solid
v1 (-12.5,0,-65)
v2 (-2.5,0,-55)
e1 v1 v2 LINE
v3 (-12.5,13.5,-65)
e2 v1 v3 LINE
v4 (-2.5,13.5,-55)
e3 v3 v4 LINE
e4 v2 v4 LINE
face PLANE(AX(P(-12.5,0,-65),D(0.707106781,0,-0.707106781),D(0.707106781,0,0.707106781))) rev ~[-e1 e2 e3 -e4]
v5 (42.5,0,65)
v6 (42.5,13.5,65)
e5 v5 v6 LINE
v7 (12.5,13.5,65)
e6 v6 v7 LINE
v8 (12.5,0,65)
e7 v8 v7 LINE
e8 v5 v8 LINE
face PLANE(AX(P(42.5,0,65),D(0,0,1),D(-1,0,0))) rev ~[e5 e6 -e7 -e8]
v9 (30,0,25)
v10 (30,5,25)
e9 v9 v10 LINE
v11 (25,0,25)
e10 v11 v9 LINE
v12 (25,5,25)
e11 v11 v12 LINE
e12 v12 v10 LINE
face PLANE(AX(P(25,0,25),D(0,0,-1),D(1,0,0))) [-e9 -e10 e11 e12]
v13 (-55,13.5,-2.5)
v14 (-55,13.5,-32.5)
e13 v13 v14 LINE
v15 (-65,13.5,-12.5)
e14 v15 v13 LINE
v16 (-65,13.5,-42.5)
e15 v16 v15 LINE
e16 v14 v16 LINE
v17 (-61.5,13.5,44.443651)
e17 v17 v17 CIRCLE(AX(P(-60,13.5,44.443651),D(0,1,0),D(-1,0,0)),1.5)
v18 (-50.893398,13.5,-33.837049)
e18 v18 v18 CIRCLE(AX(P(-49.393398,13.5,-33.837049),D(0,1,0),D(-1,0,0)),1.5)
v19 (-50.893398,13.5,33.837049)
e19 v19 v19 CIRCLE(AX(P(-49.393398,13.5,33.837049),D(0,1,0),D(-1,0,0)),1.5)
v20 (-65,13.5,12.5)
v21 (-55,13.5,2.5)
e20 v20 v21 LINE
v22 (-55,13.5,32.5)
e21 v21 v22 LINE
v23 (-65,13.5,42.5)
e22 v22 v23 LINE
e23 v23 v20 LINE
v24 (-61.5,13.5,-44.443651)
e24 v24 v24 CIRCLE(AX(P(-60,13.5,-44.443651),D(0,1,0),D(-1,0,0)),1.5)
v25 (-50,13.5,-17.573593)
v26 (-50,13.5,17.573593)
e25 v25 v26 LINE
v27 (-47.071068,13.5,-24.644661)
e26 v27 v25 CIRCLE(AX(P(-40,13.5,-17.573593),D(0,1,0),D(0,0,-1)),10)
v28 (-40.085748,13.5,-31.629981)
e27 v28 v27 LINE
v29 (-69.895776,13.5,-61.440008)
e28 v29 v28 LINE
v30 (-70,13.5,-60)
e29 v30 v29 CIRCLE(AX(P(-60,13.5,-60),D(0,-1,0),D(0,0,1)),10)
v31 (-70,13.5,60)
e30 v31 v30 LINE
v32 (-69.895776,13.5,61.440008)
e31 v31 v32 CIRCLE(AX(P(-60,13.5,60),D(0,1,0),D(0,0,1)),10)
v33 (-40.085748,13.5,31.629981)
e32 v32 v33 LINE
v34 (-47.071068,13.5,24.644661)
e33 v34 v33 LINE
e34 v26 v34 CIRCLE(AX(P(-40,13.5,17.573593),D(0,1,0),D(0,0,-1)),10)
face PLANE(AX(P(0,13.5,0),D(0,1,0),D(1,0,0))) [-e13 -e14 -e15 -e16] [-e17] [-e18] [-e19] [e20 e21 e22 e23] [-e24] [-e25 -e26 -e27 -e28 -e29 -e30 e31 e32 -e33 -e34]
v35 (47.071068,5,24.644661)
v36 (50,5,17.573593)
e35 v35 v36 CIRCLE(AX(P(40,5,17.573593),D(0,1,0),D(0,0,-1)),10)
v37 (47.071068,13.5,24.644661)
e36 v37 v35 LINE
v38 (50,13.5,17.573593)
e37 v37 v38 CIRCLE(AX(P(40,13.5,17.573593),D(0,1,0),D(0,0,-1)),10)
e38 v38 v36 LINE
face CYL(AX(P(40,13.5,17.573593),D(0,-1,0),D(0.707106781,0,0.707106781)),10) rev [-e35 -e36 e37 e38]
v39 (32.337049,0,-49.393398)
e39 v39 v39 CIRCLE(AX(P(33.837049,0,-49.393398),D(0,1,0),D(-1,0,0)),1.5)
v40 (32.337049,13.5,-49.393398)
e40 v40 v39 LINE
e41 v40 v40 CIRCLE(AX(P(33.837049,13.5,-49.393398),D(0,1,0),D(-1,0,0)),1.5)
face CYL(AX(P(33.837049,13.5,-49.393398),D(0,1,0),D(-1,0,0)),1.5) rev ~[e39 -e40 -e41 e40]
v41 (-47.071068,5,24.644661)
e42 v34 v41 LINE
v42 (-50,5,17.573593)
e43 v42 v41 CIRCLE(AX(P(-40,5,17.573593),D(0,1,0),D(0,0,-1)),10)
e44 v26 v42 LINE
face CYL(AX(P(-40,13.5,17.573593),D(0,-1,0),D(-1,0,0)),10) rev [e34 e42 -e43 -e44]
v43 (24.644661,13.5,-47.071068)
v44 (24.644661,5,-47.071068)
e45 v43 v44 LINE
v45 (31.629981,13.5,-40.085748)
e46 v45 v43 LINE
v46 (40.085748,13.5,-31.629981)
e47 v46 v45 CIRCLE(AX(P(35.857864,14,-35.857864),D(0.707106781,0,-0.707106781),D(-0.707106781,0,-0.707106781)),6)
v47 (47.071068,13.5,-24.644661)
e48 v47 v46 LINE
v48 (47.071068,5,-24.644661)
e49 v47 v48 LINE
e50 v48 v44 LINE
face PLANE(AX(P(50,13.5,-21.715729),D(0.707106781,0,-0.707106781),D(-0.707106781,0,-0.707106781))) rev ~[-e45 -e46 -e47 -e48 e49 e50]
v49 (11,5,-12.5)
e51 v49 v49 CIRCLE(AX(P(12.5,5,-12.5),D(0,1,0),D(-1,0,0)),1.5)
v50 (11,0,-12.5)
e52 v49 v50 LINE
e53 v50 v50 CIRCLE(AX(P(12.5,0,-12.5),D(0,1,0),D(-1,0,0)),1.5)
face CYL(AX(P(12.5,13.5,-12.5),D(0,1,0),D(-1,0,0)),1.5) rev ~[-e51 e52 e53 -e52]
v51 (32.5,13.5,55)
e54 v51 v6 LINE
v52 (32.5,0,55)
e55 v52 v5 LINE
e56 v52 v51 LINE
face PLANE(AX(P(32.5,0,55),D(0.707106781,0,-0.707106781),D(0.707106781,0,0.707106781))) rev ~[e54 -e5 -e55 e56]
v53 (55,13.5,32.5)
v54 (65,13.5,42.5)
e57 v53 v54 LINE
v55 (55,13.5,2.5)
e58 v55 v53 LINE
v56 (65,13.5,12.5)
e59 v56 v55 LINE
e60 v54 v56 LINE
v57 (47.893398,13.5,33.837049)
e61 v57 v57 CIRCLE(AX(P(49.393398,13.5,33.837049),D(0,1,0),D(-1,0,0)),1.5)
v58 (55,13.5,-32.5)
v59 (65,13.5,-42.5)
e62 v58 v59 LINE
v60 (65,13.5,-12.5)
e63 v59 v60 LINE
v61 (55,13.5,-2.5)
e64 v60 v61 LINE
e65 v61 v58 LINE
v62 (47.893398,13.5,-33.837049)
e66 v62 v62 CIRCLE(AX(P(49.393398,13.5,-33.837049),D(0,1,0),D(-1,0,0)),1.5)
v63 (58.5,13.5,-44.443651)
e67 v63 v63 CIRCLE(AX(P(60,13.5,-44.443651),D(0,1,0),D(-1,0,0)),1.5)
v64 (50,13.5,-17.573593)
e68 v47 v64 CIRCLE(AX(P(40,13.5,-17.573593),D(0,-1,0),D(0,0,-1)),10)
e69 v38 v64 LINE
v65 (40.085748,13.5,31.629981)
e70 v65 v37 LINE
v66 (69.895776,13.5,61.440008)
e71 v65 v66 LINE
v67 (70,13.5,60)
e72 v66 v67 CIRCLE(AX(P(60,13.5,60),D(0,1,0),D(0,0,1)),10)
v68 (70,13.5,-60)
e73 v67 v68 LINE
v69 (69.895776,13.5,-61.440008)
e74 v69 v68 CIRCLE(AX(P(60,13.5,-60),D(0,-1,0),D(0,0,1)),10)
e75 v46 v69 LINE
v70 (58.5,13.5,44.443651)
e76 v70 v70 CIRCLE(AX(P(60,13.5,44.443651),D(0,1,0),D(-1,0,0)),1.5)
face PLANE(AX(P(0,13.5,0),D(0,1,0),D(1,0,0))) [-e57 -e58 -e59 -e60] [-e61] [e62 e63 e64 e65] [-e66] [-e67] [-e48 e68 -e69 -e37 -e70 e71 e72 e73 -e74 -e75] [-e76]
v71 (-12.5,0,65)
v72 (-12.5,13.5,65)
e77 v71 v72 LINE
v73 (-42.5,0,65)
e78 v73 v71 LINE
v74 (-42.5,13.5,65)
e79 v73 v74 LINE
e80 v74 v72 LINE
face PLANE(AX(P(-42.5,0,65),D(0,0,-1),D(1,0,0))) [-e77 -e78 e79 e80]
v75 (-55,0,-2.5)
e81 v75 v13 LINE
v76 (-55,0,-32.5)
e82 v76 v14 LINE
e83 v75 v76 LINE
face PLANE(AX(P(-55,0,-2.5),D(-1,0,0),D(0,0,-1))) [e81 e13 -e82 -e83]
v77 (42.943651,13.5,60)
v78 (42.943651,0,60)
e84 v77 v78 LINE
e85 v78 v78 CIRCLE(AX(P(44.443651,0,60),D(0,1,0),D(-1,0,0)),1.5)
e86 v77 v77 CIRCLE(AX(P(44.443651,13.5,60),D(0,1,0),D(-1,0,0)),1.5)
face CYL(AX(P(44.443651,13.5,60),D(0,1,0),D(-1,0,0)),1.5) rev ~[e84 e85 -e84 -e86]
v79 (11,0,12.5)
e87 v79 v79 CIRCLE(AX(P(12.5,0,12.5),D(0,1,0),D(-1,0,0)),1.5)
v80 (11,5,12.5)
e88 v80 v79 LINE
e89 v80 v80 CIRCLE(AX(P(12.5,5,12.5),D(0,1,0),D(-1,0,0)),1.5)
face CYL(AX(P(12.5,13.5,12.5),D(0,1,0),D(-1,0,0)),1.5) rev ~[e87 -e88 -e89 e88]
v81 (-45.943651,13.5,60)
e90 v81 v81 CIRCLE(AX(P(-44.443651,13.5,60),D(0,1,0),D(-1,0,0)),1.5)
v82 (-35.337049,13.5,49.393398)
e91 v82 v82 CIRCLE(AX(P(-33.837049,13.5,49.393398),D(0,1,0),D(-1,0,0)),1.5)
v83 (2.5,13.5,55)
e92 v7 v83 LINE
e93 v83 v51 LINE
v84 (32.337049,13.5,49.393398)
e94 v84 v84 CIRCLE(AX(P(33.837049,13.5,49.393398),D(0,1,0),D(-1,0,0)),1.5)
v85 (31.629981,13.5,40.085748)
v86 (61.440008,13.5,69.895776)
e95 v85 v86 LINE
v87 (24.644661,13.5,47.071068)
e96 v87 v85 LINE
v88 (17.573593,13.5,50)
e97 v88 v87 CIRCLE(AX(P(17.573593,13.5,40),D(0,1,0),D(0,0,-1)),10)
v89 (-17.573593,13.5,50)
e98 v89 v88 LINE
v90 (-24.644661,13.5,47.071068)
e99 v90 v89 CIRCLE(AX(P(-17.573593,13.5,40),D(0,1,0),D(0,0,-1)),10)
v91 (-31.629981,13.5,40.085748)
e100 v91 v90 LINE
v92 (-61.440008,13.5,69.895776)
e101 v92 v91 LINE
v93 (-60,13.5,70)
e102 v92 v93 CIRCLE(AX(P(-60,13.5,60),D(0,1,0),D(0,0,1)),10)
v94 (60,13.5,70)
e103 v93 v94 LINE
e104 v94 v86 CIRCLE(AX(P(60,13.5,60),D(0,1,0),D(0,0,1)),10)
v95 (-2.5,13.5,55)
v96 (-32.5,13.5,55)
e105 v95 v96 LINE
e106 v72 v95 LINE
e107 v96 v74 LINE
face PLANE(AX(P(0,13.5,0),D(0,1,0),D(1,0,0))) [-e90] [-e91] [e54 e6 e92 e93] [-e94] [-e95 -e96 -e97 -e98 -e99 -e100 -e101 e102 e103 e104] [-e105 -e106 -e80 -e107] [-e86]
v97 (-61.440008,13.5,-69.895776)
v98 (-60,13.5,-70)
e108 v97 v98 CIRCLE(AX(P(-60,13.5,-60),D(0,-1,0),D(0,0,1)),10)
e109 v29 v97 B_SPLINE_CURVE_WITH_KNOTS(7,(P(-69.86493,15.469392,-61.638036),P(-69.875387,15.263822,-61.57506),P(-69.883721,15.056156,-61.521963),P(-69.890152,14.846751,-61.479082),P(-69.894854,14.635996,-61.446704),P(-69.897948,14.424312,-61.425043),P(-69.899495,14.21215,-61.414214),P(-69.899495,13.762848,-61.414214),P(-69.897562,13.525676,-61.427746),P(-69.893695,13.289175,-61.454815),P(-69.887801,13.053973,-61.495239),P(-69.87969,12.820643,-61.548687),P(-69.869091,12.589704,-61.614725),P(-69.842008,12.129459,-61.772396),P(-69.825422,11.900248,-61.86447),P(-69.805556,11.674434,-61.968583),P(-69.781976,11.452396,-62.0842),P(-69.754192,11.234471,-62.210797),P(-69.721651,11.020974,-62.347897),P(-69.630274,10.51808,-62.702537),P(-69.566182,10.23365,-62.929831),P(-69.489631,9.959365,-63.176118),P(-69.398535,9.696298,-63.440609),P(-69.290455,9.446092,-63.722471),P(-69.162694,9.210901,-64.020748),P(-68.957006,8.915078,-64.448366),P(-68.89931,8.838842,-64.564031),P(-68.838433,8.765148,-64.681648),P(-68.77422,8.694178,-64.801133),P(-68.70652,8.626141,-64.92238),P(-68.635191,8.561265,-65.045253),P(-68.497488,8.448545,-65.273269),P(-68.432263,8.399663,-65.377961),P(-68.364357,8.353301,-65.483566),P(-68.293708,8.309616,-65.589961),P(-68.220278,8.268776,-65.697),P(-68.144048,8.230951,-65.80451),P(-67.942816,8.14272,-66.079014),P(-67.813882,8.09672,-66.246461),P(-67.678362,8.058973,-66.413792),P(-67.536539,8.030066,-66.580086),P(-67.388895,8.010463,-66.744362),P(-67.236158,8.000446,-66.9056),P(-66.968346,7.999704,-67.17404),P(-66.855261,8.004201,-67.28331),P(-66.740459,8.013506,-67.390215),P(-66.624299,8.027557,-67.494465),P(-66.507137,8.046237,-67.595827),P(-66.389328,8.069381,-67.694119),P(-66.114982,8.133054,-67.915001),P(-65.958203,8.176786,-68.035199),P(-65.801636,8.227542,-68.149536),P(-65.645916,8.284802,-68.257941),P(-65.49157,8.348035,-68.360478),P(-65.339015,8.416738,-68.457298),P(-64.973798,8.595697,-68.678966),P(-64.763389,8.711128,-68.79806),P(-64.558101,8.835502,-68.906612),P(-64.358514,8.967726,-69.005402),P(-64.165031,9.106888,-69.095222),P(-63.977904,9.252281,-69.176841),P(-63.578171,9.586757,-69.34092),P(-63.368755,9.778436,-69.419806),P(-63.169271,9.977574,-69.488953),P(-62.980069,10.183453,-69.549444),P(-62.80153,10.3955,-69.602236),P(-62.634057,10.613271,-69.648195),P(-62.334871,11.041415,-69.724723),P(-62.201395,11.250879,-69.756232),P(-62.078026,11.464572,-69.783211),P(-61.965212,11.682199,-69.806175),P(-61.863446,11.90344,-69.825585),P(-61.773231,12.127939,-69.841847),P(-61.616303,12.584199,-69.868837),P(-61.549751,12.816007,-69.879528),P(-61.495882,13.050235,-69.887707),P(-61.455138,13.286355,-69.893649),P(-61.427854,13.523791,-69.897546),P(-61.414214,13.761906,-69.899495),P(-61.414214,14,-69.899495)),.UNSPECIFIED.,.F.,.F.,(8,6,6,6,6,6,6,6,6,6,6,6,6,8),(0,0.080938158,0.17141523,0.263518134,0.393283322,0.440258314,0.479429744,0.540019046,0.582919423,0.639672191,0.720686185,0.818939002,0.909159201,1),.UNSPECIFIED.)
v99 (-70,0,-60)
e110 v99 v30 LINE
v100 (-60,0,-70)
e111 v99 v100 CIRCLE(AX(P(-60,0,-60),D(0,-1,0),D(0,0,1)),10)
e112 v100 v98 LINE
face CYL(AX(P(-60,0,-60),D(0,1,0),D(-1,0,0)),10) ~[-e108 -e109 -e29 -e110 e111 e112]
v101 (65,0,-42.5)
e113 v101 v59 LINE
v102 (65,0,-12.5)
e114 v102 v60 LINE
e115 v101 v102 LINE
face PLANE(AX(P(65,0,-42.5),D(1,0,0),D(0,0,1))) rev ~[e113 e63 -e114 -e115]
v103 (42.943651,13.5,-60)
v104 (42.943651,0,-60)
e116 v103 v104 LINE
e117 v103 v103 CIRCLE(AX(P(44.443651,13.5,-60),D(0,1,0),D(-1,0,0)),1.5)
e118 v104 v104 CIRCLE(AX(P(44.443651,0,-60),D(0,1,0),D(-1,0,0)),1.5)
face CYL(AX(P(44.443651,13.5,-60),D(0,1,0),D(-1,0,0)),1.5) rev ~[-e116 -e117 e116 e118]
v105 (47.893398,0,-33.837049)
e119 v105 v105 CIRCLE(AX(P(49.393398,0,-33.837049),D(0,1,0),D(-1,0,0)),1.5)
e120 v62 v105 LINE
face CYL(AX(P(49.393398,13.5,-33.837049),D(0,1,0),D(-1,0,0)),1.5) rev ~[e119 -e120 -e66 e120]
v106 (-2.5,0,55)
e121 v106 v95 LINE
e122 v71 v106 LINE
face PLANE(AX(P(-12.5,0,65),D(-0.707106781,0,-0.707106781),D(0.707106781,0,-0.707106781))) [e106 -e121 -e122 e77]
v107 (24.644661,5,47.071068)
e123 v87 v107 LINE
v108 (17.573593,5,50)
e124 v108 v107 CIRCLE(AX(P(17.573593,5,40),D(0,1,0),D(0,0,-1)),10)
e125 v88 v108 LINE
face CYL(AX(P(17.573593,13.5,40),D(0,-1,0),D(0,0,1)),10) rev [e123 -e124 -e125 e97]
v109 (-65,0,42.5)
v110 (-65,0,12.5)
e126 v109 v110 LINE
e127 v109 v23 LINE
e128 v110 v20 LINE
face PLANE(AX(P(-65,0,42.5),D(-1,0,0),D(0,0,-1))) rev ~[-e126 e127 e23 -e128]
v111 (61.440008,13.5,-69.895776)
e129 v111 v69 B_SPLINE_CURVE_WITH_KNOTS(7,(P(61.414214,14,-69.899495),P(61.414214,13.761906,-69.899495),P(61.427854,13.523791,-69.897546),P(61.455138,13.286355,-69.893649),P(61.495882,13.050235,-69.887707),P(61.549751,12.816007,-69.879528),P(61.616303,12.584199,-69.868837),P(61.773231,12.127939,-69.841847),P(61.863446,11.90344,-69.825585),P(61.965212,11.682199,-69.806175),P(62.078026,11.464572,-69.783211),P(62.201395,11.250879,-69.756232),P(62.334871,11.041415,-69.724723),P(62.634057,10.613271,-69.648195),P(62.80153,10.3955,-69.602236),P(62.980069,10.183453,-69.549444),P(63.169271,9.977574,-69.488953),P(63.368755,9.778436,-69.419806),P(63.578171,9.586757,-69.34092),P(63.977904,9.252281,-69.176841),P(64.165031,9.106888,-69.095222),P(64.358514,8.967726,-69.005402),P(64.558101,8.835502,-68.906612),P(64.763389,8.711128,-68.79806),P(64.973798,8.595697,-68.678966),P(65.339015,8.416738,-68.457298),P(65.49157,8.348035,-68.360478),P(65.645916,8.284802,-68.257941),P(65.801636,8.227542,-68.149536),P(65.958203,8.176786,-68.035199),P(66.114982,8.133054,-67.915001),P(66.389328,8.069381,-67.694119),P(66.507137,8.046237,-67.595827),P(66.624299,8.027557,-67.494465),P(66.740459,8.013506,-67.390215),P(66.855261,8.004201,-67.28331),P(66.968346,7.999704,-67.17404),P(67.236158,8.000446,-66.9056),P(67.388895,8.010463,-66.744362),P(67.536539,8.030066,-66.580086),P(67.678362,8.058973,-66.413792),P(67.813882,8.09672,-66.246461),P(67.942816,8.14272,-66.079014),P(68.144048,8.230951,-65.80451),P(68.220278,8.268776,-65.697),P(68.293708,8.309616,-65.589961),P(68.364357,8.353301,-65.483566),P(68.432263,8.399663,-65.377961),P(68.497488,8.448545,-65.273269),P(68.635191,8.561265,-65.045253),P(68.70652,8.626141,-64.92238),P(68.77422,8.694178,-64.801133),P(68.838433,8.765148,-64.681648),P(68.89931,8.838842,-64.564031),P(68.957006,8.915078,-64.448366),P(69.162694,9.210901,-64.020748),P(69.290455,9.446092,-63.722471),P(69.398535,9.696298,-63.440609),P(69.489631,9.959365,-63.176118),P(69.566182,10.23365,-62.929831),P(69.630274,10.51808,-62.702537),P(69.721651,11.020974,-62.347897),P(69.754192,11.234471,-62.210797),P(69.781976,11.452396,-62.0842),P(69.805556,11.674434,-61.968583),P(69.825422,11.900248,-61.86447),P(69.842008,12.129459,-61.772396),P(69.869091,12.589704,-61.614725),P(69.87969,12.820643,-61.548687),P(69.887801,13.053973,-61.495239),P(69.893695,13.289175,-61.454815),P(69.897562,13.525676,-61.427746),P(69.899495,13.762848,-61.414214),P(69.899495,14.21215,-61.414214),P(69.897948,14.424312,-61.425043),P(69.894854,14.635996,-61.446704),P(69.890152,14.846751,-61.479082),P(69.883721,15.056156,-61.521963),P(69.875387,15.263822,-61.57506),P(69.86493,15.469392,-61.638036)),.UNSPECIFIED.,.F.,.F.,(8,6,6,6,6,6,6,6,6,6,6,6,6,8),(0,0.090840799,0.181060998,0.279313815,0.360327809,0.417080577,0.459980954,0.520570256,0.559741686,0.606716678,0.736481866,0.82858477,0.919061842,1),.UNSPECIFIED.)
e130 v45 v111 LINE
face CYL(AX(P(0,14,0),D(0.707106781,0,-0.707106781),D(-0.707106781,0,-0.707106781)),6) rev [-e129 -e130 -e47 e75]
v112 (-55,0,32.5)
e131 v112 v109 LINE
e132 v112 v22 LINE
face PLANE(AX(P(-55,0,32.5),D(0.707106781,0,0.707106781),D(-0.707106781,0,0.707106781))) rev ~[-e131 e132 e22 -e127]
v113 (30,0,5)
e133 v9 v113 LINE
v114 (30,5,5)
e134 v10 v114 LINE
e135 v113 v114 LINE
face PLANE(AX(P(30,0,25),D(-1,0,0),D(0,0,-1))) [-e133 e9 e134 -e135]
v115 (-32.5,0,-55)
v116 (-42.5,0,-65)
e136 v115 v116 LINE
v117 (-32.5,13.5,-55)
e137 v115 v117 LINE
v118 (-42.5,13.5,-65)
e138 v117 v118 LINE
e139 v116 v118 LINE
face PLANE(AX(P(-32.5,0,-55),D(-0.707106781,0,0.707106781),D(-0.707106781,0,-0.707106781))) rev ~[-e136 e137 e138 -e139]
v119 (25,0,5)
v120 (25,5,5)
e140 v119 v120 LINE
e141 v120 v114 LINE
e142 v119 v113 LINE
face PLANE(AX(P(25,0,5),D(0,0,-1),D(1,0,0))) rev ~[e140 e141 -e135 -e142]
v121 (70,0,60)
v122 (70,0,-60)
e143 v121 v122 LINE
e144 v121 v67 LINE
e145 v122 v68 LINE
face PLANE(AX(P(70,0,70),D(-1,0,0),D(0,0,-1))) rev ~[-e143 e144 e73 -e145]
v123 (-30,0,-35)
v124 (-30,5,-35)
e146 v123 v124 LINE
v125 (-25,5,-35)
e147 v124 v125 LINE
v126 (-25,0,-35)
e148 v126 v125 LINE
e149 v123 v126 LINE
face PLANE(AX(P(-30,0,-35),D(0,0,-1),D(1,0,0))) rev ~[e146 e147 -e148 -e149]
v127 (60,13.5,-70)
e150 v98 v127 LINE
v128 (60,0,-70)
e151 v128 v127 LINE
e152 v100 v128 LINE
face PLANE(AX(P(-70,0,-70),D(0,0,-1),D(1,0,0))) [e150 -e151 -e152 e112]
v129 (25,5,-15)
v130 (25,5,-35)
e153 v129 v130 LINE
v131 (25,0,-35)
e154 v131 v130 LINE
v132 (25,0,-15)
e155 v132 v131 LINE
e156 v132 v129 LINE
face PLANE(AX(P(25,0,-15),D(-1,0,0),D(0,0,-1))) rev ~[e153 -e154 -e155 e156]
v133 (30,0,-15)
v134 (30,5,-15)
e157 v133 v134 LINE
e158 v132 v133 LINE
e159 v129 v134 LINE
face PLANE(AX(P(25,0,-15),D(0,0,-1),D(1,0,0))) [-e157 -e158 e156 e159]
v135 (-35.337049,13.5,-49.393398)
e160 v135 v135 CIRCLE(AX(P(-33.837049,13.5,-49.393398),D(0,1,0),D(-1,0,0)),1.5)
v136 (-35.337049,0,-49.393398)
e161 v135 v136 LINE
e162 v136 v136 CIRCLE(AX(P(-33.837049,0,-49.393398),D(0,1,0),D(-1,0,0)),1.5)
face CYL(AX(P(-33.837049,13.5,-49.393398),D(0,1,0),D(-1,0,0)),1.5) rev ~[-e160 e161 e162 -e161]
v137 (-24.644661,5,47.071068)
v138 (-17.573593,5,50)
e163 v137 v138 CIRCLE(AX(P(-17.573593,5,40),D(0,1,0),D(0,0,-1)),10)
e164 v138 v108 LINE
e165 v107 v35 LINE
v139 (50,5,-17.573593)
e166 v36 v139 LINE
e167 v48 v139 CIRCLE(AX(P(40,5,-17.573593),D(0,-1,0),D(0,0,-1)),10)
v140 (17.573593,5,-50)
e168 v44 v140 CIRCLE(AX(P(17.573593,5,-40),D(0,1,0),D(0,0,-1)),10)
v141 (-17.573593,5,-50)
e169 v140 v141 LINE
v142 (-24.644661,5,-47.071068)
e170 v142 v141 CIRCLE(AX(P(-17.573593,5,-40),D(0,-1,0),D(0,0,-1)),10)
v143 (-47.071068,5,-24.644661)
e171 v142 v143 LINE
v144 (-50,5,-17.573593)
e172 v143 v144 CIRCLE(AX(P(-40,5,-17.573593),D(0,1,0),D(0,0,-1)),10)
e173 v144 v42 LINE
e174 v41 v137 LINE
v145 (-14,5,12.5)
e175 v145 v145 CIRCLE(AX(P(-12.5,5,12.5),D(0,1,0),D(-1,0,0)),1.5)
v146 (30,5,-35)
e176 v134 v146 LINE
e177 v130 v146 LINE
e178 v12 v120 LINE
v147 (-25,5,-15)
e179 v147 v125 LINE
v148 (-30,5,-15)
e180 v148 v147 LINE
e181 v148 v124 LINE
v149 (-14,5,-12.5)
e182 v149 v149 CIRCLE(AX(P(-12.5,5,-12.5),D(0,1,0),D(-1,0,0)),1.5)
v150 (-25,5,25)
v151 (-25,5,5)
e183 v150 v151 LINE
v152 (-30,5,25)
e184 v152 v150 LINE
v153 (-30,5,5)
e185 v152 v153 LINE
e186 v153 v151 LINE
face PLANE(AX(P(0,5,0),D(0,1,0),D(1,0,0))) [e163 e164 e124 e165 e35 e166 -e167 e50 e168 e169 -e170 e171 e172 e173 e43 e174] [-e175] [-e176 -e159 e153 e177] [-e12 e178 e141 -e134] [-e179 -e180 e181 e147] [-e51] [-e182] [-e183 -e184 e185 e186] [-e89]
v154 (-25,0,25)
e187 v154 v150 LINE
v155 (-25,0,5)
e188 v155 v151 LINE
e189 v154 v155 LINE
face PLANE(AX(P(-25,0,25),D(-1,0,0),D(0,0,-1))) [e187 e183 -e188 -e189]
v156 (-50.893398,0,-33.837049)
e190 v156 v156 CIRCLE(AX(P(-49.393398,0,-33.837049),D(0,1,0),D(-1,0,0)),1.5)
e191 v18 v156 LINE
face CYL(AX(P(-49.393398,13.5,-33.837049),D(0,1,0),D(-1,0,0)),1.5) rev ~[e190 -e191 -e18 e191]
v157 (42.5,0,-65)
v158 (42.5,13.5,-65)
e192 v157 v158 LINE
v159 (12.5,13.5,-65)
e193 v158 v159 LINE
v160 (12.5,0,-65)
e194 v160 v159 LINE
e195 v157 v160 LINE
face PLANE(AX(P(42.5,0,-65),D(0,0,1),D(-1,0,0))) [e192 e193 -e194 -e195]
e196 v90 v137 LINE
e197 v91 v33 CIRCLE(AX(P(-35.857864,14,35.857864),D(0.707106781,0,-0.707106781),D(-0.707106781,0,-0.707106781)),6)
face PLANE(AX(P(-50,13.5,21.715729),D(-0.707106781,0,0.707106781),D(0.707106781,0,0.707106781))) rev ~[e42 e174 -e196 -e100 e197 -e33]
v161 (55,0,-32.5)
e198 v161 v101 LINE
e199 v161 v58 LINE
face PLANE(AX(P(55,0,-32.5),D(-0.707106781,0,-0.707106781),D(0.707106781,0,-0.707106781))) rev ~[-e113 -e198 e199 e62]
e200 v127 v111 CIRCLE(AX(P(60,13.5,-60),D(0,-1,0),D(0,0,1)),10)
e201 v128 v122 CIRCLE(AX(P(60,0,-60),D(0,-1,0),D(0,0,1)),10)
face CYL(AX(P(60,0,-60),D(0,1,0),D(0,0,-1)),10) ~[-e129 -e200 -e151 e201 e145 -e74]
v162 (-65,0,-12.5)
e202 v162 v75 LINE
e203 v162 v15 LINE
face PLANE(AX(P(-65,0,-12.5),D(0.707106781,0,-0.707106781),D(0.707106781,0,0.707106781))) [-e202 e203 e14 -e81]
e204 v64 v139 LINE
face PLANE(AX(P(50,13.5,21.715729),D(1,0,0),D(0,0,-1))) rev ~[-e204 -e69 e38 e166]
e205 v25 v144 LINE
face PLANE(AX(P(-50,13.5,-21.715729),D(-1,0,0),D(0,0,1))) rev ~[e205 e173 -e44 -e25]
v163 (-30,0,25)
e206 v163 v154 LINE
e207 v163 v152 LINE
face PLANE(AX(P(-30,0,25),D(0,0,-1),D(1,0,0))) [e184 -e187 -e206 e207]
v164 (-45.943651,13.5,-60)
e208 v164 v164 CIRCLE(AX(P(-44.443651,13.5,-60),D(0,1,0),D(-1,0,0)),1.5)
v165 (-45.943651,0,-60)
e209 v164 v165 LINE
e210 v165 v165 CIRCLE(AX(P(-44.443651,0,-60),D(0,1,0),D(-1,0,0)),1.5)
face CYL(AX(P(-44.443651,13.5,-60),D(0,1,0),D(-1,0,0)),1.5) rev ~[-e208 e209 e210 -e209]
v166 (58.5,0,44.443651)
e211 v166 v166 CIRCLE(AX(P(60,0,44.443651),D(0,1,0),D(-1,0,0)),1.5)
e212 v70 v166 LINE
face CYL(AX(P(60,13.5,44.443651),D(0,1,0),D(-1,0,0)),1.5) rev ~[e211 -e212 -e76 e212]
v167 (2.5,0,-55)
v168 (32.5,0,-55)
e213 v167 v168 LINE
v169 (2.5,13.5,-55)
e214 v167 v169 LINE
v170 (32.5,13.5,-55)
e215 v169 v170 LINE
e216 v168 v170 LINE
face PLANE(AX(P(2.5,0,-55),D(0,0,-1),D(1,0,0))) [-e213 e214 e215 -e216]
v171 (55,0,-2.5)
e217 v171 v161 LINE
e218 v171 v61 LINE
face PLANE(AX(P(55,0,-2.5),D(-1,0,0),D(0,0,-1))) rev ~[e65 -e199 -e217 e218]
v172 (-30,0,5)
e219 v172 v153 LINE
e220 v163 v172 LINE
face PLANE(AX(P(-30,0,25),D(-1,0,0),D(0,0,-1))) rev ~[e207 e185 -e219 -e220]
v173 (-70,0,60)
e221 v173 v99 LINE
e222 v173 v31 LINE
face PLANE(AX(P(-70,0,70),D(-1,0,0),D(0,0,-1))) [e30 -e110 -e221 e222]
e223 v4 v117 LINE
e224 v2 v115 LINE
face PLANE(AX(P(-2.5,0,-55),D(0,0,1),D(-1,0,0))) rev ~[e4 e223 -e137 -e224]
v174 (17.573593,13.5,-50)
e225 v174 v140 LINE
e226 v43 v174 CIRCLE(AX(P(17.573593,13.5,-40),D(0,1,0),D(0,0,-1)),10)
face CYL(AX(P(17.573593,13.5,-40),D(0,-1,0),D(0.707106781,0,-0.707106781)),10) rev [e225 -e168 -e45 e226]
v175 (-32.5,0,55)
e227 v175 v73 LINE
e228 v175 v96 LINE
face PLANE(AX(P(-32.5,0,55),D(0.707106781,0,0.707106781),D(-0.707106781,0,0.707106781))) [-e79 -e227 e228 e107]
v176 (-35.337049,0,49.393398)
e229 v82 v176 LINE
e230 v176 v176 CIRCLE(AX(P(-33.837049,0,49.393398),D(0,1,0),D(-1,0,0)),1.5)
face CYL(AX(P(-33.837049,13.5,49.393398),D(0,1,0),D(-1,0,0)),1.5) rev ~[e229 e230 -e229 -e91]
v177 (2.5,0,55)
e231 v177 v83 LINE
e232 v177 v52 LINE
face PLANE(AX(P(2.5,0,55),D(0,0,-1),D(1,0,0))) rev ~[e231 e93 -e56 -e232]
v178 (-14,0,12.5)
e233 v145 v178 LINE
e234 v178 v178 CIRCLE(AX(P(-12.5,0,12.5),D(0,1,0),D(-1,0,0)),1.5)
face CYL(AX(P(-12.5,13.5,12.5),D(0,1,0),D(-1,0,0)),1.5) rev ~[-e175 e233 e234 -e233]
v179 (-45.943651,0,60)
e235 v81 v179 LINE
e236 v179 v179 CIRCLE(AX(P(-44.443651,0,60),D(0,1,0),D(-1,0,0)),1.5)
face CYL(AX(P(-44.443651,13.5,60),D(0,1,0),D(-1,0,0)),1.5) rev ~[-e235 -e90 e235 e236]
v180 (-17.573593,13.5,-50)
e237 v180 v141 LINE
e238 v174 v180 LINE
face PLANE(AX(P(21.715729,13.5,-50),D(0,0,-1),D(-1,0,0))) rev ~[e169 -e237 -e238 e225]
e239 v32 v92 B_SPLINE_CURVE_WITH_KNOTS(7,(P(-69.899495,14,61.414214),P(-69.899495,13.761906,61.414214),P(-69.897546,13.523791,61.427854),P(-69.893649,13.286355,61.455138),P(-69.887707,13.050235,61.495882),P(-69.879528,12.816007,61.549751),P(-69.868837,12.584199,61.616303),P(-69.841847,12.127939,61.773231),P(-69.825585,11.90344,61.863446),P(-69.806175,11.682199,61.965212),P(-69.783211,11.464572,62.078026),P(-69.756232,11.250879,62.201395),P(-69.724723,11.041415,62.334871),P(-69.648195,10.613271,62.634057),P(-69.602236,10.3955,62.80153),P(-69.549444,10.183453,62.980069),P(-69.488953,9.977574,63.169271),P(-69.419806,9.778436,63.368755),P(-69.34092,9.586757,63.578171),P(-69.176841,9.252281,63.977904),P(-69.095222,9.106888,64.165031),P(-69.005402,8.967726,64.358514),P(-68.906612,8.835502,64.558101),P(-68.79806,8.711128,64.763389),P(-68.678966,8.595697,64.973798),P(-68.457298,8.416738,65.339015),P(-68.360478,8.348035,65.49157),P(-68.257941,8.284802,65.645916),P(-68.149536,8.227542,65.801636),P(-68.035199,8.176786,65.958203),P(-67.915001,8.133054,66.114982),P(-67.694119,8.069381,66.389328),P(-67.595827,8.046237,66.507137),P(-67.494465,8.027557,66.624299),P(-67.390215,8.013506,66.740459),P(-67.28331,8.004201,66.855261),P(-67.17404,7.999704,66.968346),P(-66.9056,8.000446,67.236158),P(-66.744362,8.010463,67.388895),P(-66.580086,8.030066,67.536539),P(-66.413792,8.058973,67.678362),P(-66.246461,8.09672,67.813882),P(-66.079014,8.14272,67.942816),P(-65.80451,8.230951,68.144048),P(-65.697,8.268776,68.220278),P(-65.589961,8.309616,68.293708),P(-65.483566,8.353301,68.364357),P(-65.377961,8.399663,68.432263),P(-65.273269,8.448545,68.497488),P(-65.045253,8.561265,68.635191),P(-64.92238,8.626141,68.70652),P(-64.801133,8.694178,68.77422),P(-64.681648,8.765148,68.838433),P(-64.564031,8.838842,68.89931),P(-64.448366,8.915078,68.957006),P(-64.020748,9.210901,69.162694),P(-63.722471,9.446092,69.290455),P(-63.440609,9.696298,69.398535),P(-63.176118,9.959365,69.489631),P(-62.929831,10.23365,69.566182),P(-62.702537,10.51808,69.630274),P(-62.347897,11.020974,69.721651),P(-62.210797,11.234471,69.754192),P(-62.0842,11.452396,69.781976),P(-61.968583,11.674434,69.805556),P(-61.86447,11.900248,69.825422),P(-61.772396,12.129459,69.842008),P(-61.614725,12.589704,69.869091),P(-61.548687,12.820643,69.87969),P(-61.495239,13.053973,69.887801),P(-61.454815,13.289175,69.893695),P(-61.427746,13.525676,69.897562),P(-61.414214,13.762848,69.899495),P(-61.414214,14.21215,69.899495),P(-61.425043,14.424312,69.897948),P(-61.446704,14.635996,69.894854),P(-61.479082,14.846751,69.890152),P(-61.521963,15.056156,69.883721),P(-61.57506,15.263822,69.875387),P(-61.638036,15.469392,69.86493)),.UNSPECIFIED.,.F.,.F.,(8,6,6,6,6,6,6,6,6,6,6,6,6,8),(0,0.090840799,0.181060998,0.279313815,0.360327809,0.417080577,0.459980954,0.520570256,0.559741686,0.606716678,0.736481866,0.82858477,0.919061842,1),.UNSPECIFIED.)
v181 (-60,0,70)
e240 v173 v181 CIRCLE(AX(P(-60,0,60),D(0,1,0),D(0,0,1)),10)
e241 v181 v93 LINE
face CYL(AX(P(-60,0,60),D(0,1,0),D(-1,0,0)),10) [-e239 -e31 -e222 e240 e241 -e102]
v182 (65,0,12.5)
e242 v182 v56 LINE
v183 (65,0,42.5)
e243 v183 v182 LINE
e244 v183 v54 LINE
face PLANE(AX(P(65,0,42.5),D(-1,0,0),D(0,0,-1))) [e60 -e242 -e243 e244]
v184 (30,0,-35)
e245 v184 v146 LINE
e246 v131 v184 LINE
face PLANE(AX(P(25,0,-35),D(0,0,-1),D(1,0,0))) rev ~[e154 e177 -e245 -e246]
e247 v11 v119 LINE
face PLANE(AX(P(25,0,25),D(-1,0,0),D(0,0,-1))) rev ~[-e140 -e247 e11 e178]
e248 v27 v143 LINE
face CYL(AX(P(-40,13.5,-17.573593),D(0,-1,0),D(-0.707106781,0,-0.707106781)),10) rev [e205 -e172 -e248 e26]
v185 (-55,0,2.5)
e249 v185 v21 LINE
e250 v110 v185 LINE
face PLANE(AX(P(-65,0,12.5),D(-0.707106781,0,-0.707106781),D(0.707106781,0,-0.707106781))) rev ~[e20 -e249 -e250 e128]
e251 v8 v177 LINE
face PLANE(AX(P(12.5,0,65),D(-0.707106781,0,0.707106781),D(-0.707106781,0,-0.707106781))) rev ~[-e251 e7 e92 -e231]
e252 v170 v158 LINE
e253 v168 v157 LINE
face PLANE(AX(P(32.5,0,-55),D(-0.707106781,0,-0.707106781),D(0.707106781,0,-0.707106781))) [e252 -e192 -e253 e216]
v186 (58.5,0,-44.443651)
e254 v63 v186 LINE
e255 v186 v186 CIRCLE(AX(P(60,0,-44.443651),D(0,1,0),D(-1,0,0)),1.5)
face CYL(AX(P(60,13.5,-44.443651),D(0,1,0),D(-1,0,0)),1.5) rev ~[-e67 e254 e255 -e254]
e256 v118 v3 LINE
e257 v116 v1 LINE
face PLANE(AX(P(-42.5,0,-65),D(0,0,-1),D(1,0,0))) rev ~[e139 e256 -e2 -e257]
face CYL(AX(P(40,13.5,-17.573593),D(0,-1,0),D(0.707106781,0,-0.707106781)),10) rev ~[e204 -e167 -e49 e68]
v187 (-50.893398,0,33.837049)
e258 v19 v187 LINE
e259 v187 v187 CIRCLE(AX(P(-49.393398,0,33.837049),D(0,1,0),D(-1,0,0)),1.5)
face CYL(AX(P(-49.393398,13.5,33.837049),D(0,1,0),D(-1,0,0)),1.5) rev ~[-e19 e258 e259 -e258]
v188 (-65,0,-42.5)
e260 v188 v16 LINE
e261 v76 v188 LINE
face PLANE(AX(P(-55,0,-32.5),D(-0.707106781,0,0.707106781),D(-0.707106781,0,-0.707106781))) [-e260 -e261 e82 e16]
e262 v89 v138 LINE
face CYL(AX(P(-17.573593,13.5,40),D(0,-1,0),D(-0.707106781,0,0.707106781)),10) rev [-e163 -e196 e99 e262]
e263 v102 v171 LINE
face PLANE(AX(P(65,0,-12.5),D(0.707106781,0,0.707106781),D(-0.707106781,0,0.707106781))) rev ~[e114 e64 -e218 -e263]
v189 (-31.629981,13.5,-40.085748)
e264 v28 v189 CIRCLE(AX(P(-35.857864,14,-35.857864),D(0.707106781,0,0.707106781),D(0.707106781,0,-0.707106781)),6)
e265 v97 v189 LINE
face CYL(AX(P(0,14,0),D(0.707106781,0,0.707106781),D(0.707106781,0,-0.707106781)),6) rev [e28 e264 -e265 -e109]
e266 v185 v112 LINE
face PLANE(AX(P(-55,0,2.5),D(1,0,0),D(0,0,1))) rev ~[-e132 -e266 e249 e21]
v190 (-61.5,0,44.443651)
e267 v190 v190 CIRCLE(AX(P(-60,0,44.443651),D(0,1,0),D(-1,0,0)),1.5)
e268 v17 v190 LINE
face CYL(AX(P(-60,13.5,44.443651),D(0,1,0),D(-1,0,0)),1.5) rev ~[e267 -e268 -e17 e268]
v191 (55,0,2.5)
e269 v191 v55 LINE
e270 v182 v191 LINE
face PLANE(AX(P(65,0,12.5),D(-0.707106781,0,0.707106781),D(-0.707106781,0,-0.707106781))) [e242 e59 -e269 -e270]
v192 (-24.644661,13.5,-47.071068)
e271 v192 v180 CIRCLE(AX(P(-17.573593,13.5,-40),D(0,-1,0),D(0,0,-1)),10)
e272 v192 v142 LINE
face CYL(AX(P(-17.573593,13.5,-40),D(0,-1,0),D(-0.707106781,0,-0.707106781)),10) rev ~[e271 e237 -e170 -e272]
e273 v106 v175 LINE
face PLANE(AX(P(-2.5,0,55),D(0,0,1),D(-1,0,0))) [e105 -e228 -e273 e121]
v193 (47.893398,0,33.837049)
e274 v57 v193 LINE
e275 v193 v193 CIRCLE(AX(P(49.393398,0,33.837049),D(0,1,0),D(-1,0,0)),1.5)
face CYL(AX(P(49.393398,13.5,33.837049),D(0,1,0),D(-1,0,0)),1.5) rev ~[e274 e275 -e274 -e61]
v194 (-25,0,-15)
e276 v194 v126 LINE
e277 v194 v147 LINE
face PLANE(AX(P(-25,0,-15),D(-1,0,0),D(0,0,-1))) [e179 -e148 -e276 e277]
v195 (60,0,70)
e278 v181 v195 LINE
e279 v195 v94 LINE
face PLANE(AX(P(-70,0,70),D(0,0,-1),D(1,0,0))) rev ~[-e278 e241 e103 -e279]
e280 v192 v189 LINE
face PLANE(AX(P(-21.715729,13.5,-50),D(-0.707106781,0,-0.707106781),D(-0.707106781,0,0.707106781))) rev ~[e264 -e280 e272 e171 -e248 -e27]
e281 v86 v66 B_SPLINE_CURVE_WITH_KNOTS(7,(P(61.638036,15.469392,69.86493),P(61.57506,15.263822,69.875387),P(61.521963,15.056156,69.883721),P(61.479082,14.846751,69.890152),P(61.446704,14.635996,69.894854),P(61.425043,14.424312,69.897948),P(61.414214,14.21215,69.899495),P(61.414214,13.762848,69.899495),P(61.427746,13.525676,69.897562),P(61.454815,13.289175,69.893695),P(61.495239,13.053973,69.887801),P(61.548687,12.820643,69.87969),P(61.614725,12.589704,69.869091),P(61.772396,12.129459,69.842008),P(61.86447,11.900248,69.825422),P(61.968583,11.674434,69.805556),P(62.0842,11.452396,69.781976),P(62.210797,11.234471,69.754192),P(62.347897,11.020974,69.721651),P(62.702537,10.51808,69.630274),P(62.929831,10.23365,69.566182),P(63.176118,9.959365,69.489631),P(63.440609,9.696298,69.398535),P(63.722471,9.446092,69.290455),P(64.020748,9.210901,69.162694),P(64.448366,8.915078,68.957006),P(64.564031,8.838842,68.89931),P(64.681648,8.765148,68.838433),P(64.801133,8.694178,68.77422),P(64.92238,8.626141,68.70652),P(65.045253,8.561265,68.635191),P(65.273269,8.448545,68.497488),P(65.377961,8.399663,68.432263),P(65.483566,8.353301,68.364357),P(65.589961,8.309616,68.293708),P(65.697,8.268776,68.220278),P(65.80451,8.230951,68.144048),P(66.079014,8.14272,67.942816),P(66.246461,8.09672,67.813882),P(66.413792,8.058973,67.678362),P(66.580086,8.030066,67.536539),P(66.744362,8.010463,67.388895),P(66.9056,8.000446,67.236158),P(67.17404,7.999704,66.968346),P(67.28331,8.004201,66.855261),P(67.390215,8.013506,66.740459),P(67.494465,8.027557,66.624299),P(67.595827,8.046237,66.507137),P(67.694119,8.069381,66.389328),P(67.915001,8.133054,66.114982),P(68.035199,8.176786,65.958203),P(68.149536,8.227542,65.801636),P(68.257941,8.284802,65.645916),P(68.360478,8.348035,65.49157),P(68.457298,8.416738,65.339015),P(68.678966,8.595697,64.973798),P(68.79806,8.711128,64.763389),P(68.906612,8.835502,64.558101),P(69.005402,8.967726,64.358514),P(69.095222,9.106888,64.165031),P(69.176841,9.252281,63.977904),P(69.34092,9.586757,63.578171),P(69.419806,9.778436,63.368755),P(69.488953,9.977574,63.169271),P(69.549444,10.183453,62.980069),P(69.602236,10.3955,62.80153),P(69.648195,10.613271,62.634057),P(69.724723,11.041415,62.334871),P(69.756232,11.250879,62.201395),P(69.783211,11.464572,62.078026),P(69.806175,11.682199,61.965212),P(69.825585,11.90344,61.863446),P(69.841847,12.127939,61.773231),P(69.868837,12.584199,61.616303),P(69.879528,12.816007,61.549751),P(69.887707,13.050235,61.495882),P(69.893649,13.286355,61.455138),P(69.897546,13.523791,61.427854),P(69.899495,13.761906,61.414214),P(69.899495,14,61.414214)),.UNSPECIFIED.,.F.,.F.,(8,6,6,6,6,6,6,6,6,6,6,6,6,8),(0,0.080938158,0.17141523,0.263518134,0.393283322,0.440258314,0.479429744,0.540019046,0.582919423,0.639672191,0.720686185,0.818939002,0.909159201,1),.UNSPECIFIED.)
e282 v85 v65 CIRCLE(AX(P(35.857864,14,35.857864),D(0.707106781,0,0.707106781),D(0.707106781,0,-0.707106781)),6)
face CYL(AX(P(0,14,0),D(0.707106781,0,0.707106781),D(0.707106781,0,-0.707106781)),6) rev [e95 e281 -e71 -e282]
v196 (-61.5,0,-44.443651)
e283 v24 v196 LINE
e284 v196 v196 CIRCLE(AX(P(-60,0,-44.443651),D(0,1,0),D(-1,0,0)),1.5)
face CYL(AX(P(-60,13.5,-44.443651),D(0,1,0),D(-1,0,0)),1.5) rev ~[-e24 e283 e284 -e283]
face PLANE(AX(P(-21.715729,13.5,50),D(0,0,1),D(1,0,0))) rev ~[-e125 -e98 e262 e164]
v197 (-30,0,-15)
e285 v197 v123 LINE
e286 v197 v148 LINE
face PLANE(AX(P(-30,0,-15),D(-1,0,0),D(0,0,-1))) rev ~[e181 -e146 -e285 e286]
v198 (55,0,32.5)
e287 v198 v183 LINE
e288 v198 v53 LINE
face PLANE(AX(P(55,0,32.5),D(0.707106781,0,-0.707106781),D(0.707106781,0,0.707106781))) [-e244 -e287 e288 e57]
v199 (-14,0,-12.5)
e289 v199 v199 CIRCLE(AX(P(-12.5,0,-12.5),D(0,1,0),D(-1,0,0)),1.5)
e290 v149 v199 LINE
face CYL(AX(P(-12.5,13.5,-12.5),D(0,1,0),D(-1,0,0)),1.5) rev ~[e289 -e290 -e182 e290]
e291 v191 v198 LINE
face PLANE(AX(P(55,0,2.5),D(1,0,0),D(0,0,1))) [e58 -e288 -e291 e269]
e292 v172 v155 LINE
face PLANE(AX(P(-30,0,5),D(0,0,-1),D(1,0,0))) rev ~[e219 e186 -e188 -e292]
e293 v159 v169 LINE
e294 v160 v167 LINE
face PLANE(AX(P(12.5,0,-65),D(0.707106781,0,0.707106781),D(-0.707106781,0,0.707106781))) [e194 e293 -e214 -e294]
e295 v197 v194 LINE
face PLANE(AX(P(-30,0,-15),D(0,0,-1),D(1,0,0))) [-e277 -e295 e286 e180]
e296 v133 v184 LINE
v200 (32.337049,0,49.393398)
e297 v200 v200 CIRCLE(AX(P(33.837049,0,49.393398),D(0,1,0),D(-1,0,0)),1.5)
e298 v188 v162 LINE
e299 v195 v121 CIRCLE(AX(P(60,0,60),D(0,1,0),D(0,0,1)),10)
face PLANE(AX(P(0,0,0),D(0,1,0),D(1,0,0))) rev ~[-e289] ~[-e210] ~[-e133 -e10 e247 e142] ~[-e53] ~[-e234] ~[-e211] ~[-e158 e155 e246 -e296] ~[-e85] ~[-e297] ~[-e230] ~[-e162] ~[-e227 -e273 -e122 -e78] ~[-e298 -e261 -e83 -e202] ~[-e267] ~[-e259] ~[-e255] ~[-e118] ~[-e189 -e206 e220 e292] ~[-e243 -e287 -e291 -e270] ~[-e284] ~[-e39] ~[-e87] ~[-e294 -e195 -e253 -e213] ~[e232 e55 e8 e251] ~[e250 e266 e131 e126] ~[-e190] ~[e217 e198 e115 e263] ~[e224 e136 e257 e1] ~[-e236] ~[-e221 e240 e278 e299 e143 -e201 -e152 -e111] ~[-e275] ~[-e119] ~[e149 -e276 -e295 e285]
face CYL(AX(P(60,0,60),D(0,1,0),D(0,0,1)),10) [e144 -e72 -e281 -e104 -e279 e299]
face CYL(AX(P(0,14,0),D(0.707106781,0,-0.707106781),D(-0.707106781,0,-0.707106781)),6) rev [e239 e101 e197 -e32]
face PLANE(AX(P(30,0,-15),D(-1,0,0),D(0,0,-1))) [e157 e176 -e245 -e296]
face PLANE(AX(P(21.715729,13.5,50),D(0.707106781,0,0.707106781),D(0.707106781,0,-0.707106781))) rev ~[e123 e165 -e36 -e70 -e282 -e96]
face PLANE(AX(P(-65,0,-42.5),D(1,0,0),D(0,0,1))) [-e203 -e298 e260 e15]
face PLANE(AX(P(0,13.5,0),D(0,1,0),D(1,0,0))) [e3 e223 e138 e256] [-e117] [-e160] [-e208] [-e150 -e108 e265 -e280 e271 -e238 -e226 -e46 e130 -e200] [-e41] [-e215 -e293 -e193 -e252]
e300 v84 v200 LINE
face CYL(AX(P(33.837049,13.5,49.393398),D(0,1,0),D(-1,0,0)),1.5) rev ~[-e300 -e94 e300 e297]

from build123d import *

# Parameters (mm, degrees)
ESQUISSE1_W                  = 140
ESQUISSE1_H                  = 140
ESQUISSE1_W_2                = 5
ESQUISSE1_H_2                = 20
BOSS_EXTRU_1_DEPTH           = 13.5
ENL_V_MAT_EXTRU_3_DEPTH      = 8.5
ENL_V_MAT_EXTRU_1_DEPTH      = 100
R_P_TITION_CIRCULAIRE1_COUNT = 2
R_P_TITION_CIRCULAIRE1_ANGLE = 90
CONG_1_R                     = 10
ESQUISSE3_R                  = 1.5
ENL_V_MAT_EXTRU_2_DEPTH      = 13.5


with BuildPart() as part:
    # Esquisse1 → Boss.-Extru.1 (new body)
    with BuildSketch(Plane(origin=(0, 0, 0), x_dir=(1, 0, 0), z_dir=(0, 1, 0))):
        Rectangle(ESQUISSE1_W, ESQUISSE1_H)
        with Locations((-27.5, 25)):
            Rectangle(ESQUISSE1_W_2, ESQUISSE1_H_2, mode=Mode.SUBTRACT)
        Polygon((65, 12.5), (55, 2.5), (55, 32.5), (65, 42.5), align=None, mode=Mode.SUBTRACT)
        Polygon((65, -12.5), (55, -2.5), (55, -32.5), (65, -42.5), align=None, mode=Mode.SUBTRACT)
        Polygon((12.5, -65), (2.5, -55), (32.5, -55), (42.5, -65), align=None, mode=Mode.SUBTRACT)
        Polygon((-12.5, -65), (-2.5, -55), (-32.5, -55), (-42.5, -65), align=None, mode=Mode.SUBTRACT)
        Polygon((-65, -12.5), (-55, -2.5), (-55, -32.5), (-65, -42.5), align=None, mode=Mode.SUBTRACT)
        Polygon((-65, 12.5), (-55, 2.5), (-55, 32.5), (-65, 42.5), align=None, mode=Mode.SUBTRACT)
        Polygon((-12.5, 65), (-2.5, 55), (-32.5, 55), (-42.5, 65), align=None, mode=Mode.SUBTRACT)
        Polygon((12.5, 65), (2.5, 55), (32.5, 55), (42.5, 65), align=None, mode=Mode.SUBTRACT)
        with Locations((-27.5, -15)):
            Rectangle(ESQUISSE1_W_2, ESQUISSE1_H_2, mode=Mode.SUBTRACT)
        with Locations((27.5, 25)):
            Rectangle(ESQUISSE1_W_2, ESQUISSE1_H_2, mode=Mode.SUBTRACT)
        with Locations((27.5, -15)):
            Rectangle(ESQUISSE1_W_2, ESQUISSE1_H_2, mode=Mode.SUBTRACT)
    extrude(amount=BOSS_EXTRU_1_DEPTH)

    # Esquisse4 → Enlèv. mat.-Extru.3 (cut)
    with BuildSketch(Plane(origin=(0, 13.5, 0), x_dir=(1, 0, 0), z_dir=(0, 1, 0))):
        Polygon((-21.715728753, -50), (21.715728753, -50), (50, -21.715728753), (50, 21.715728753), (21.715728753, 50), (-21.715728753, 50), (-50, 21.715728753), (-50, -21.715728753), align=None)
    extrude(amount=-ENL_V_MAT_EXTRU_3_DEPTH, mode=Mode.SUBTRACT)

    # Esquisse2 → Enlèv. mat.-Extru.1 (cut, symmetric)
    with BuildSketch(Plane(origin=(0, 0, 0), x_dir=(0.7071067811865475, 0, -0.7071067811865477), z_dir=(0.7071067811865477, 0, 0.7071067811865475))):
        with BuildLine():
            Line((-6, 14), (6, 14))
            ThreePointArc((6, 14), (0, 8), (-6, 14))
        make_face()
    enl_v_mat_extru_1 = extrude(amount=ENL_V_MAT_EXTRU_1_DEPTH, both=True, mode=Mode.SUBTRACT)

    # Répétition circulaire1: Enlèv. mat.-Extru.1 ×2 about axis
    r_p_tition_circulaire1_axis = Axis((0, -76.187687151, 0), (0, 1, 0))
    for i in range(1, R_P_TITION_CIRCULAIRE1_COUNT):
        add(enl_v_mat_extru_1.rotate(r_p_tition_circulaire1_axis, i * R_P_TITION_CIRCULAIRE1_ANGLE / (R_P_TITION_CIRCULAIRE1_COUNT - 1)), mode=Mode.SUBTRACT)

    # Congé1
    cong_1_edges = [part.edges().sort_by_distance(p)[0] for p in [
        (-70, 4, -70),
        (-70, 4, 70),
        (70, 4, -70),
        (70, 4, 70),
        (21.715728753, 9.25, -50),
        (50, 9.25, -21.715728753),
        (50, 9.25, 21.715728753),
        (21.715728753, 9.25, 50),
        (-21.715728753, 9.25, 50),
        (-50, 9.25, 21.715728753),
        (-21.715728753, 9.25, -50),
        (-50, 9.25, -21.715728753),
    ]]
    fillet(cong_1_edges, radius=CONG_1_R)

    # Esquisse3 → Enlèv. mat.-Extru.2 (cut)
    with BuildSketch(Plane(origin=(0, 13.5, 0), x_dir=(-1, 0, 0), z_dir=(0, 1, 0))):
        with Locations((44.443650814, 60)):
            Circle(ESQUISSE3_R)
        with Locations((60, 44.443650814)):
            Circle(ESQUISSE3_R)
        with Locations((60, -44.443650814)):
            Circle(ESQUISSE3_R)
        with Locations((44.443650814, -60)):
            Circle(ESQUISSE3_R)
        with Locations((-44.443650814, -60)):
            Circle(ESQUISSE3_R)
        with Locations((-60, -44.443650814)):
            Circle(ESQUISSE3_R)
        with Locations((-60, 44.443650814)):
            Circle(ESQUISSE3_R)
        with Locations((-44.443650814, 60)):
            Circle(ESQUISSE3_R)
        with Locations((49.393398282, 33.837049096)):
            Circle(ESQUISSE3_R)
        with Locations((33.837049096, 49.393398282)):
            Circle(ESQUISSE3_R)
        with Locations((33.837049096, -49.393398282)):
            Circle(ESQUISSE3_R)
        with Locations((49.393398282, -33.837049096)):
            Circle(ESQUISSE3_R)
        with Locations((-49.393398282, -33.837049096)):
            Circle(ESQUISSE3_R)
        with Locations((-33.837049096, -49.393398282)):
            Circle(ESQUISSE3_R)
        with Locations((-33.837049096, 49.393398282)):
            Circle(ESQUISSE3_R)
        with Locations((-49.393398282, 33.837049096)):
            Circle(ESQUISSE3_R)
        with Locations((12.5, -12.5)):
            Circle(ESQUISSE3_R)
        with Locations((-12.5, -12.5)):
            Circle(ESQUISSE3_R)
        with Locations((-12.5, 12.5)):
            Circle(ESQUISSE3_R)
        with Locations((12.5, 12.5)):
            Circle(ESQUISSE3_R)
    extrude(amount=-ENL_V_MAT_EXTRU_2_DEPTH, mode=Mode.SUBTRACT)


solid = part.part
